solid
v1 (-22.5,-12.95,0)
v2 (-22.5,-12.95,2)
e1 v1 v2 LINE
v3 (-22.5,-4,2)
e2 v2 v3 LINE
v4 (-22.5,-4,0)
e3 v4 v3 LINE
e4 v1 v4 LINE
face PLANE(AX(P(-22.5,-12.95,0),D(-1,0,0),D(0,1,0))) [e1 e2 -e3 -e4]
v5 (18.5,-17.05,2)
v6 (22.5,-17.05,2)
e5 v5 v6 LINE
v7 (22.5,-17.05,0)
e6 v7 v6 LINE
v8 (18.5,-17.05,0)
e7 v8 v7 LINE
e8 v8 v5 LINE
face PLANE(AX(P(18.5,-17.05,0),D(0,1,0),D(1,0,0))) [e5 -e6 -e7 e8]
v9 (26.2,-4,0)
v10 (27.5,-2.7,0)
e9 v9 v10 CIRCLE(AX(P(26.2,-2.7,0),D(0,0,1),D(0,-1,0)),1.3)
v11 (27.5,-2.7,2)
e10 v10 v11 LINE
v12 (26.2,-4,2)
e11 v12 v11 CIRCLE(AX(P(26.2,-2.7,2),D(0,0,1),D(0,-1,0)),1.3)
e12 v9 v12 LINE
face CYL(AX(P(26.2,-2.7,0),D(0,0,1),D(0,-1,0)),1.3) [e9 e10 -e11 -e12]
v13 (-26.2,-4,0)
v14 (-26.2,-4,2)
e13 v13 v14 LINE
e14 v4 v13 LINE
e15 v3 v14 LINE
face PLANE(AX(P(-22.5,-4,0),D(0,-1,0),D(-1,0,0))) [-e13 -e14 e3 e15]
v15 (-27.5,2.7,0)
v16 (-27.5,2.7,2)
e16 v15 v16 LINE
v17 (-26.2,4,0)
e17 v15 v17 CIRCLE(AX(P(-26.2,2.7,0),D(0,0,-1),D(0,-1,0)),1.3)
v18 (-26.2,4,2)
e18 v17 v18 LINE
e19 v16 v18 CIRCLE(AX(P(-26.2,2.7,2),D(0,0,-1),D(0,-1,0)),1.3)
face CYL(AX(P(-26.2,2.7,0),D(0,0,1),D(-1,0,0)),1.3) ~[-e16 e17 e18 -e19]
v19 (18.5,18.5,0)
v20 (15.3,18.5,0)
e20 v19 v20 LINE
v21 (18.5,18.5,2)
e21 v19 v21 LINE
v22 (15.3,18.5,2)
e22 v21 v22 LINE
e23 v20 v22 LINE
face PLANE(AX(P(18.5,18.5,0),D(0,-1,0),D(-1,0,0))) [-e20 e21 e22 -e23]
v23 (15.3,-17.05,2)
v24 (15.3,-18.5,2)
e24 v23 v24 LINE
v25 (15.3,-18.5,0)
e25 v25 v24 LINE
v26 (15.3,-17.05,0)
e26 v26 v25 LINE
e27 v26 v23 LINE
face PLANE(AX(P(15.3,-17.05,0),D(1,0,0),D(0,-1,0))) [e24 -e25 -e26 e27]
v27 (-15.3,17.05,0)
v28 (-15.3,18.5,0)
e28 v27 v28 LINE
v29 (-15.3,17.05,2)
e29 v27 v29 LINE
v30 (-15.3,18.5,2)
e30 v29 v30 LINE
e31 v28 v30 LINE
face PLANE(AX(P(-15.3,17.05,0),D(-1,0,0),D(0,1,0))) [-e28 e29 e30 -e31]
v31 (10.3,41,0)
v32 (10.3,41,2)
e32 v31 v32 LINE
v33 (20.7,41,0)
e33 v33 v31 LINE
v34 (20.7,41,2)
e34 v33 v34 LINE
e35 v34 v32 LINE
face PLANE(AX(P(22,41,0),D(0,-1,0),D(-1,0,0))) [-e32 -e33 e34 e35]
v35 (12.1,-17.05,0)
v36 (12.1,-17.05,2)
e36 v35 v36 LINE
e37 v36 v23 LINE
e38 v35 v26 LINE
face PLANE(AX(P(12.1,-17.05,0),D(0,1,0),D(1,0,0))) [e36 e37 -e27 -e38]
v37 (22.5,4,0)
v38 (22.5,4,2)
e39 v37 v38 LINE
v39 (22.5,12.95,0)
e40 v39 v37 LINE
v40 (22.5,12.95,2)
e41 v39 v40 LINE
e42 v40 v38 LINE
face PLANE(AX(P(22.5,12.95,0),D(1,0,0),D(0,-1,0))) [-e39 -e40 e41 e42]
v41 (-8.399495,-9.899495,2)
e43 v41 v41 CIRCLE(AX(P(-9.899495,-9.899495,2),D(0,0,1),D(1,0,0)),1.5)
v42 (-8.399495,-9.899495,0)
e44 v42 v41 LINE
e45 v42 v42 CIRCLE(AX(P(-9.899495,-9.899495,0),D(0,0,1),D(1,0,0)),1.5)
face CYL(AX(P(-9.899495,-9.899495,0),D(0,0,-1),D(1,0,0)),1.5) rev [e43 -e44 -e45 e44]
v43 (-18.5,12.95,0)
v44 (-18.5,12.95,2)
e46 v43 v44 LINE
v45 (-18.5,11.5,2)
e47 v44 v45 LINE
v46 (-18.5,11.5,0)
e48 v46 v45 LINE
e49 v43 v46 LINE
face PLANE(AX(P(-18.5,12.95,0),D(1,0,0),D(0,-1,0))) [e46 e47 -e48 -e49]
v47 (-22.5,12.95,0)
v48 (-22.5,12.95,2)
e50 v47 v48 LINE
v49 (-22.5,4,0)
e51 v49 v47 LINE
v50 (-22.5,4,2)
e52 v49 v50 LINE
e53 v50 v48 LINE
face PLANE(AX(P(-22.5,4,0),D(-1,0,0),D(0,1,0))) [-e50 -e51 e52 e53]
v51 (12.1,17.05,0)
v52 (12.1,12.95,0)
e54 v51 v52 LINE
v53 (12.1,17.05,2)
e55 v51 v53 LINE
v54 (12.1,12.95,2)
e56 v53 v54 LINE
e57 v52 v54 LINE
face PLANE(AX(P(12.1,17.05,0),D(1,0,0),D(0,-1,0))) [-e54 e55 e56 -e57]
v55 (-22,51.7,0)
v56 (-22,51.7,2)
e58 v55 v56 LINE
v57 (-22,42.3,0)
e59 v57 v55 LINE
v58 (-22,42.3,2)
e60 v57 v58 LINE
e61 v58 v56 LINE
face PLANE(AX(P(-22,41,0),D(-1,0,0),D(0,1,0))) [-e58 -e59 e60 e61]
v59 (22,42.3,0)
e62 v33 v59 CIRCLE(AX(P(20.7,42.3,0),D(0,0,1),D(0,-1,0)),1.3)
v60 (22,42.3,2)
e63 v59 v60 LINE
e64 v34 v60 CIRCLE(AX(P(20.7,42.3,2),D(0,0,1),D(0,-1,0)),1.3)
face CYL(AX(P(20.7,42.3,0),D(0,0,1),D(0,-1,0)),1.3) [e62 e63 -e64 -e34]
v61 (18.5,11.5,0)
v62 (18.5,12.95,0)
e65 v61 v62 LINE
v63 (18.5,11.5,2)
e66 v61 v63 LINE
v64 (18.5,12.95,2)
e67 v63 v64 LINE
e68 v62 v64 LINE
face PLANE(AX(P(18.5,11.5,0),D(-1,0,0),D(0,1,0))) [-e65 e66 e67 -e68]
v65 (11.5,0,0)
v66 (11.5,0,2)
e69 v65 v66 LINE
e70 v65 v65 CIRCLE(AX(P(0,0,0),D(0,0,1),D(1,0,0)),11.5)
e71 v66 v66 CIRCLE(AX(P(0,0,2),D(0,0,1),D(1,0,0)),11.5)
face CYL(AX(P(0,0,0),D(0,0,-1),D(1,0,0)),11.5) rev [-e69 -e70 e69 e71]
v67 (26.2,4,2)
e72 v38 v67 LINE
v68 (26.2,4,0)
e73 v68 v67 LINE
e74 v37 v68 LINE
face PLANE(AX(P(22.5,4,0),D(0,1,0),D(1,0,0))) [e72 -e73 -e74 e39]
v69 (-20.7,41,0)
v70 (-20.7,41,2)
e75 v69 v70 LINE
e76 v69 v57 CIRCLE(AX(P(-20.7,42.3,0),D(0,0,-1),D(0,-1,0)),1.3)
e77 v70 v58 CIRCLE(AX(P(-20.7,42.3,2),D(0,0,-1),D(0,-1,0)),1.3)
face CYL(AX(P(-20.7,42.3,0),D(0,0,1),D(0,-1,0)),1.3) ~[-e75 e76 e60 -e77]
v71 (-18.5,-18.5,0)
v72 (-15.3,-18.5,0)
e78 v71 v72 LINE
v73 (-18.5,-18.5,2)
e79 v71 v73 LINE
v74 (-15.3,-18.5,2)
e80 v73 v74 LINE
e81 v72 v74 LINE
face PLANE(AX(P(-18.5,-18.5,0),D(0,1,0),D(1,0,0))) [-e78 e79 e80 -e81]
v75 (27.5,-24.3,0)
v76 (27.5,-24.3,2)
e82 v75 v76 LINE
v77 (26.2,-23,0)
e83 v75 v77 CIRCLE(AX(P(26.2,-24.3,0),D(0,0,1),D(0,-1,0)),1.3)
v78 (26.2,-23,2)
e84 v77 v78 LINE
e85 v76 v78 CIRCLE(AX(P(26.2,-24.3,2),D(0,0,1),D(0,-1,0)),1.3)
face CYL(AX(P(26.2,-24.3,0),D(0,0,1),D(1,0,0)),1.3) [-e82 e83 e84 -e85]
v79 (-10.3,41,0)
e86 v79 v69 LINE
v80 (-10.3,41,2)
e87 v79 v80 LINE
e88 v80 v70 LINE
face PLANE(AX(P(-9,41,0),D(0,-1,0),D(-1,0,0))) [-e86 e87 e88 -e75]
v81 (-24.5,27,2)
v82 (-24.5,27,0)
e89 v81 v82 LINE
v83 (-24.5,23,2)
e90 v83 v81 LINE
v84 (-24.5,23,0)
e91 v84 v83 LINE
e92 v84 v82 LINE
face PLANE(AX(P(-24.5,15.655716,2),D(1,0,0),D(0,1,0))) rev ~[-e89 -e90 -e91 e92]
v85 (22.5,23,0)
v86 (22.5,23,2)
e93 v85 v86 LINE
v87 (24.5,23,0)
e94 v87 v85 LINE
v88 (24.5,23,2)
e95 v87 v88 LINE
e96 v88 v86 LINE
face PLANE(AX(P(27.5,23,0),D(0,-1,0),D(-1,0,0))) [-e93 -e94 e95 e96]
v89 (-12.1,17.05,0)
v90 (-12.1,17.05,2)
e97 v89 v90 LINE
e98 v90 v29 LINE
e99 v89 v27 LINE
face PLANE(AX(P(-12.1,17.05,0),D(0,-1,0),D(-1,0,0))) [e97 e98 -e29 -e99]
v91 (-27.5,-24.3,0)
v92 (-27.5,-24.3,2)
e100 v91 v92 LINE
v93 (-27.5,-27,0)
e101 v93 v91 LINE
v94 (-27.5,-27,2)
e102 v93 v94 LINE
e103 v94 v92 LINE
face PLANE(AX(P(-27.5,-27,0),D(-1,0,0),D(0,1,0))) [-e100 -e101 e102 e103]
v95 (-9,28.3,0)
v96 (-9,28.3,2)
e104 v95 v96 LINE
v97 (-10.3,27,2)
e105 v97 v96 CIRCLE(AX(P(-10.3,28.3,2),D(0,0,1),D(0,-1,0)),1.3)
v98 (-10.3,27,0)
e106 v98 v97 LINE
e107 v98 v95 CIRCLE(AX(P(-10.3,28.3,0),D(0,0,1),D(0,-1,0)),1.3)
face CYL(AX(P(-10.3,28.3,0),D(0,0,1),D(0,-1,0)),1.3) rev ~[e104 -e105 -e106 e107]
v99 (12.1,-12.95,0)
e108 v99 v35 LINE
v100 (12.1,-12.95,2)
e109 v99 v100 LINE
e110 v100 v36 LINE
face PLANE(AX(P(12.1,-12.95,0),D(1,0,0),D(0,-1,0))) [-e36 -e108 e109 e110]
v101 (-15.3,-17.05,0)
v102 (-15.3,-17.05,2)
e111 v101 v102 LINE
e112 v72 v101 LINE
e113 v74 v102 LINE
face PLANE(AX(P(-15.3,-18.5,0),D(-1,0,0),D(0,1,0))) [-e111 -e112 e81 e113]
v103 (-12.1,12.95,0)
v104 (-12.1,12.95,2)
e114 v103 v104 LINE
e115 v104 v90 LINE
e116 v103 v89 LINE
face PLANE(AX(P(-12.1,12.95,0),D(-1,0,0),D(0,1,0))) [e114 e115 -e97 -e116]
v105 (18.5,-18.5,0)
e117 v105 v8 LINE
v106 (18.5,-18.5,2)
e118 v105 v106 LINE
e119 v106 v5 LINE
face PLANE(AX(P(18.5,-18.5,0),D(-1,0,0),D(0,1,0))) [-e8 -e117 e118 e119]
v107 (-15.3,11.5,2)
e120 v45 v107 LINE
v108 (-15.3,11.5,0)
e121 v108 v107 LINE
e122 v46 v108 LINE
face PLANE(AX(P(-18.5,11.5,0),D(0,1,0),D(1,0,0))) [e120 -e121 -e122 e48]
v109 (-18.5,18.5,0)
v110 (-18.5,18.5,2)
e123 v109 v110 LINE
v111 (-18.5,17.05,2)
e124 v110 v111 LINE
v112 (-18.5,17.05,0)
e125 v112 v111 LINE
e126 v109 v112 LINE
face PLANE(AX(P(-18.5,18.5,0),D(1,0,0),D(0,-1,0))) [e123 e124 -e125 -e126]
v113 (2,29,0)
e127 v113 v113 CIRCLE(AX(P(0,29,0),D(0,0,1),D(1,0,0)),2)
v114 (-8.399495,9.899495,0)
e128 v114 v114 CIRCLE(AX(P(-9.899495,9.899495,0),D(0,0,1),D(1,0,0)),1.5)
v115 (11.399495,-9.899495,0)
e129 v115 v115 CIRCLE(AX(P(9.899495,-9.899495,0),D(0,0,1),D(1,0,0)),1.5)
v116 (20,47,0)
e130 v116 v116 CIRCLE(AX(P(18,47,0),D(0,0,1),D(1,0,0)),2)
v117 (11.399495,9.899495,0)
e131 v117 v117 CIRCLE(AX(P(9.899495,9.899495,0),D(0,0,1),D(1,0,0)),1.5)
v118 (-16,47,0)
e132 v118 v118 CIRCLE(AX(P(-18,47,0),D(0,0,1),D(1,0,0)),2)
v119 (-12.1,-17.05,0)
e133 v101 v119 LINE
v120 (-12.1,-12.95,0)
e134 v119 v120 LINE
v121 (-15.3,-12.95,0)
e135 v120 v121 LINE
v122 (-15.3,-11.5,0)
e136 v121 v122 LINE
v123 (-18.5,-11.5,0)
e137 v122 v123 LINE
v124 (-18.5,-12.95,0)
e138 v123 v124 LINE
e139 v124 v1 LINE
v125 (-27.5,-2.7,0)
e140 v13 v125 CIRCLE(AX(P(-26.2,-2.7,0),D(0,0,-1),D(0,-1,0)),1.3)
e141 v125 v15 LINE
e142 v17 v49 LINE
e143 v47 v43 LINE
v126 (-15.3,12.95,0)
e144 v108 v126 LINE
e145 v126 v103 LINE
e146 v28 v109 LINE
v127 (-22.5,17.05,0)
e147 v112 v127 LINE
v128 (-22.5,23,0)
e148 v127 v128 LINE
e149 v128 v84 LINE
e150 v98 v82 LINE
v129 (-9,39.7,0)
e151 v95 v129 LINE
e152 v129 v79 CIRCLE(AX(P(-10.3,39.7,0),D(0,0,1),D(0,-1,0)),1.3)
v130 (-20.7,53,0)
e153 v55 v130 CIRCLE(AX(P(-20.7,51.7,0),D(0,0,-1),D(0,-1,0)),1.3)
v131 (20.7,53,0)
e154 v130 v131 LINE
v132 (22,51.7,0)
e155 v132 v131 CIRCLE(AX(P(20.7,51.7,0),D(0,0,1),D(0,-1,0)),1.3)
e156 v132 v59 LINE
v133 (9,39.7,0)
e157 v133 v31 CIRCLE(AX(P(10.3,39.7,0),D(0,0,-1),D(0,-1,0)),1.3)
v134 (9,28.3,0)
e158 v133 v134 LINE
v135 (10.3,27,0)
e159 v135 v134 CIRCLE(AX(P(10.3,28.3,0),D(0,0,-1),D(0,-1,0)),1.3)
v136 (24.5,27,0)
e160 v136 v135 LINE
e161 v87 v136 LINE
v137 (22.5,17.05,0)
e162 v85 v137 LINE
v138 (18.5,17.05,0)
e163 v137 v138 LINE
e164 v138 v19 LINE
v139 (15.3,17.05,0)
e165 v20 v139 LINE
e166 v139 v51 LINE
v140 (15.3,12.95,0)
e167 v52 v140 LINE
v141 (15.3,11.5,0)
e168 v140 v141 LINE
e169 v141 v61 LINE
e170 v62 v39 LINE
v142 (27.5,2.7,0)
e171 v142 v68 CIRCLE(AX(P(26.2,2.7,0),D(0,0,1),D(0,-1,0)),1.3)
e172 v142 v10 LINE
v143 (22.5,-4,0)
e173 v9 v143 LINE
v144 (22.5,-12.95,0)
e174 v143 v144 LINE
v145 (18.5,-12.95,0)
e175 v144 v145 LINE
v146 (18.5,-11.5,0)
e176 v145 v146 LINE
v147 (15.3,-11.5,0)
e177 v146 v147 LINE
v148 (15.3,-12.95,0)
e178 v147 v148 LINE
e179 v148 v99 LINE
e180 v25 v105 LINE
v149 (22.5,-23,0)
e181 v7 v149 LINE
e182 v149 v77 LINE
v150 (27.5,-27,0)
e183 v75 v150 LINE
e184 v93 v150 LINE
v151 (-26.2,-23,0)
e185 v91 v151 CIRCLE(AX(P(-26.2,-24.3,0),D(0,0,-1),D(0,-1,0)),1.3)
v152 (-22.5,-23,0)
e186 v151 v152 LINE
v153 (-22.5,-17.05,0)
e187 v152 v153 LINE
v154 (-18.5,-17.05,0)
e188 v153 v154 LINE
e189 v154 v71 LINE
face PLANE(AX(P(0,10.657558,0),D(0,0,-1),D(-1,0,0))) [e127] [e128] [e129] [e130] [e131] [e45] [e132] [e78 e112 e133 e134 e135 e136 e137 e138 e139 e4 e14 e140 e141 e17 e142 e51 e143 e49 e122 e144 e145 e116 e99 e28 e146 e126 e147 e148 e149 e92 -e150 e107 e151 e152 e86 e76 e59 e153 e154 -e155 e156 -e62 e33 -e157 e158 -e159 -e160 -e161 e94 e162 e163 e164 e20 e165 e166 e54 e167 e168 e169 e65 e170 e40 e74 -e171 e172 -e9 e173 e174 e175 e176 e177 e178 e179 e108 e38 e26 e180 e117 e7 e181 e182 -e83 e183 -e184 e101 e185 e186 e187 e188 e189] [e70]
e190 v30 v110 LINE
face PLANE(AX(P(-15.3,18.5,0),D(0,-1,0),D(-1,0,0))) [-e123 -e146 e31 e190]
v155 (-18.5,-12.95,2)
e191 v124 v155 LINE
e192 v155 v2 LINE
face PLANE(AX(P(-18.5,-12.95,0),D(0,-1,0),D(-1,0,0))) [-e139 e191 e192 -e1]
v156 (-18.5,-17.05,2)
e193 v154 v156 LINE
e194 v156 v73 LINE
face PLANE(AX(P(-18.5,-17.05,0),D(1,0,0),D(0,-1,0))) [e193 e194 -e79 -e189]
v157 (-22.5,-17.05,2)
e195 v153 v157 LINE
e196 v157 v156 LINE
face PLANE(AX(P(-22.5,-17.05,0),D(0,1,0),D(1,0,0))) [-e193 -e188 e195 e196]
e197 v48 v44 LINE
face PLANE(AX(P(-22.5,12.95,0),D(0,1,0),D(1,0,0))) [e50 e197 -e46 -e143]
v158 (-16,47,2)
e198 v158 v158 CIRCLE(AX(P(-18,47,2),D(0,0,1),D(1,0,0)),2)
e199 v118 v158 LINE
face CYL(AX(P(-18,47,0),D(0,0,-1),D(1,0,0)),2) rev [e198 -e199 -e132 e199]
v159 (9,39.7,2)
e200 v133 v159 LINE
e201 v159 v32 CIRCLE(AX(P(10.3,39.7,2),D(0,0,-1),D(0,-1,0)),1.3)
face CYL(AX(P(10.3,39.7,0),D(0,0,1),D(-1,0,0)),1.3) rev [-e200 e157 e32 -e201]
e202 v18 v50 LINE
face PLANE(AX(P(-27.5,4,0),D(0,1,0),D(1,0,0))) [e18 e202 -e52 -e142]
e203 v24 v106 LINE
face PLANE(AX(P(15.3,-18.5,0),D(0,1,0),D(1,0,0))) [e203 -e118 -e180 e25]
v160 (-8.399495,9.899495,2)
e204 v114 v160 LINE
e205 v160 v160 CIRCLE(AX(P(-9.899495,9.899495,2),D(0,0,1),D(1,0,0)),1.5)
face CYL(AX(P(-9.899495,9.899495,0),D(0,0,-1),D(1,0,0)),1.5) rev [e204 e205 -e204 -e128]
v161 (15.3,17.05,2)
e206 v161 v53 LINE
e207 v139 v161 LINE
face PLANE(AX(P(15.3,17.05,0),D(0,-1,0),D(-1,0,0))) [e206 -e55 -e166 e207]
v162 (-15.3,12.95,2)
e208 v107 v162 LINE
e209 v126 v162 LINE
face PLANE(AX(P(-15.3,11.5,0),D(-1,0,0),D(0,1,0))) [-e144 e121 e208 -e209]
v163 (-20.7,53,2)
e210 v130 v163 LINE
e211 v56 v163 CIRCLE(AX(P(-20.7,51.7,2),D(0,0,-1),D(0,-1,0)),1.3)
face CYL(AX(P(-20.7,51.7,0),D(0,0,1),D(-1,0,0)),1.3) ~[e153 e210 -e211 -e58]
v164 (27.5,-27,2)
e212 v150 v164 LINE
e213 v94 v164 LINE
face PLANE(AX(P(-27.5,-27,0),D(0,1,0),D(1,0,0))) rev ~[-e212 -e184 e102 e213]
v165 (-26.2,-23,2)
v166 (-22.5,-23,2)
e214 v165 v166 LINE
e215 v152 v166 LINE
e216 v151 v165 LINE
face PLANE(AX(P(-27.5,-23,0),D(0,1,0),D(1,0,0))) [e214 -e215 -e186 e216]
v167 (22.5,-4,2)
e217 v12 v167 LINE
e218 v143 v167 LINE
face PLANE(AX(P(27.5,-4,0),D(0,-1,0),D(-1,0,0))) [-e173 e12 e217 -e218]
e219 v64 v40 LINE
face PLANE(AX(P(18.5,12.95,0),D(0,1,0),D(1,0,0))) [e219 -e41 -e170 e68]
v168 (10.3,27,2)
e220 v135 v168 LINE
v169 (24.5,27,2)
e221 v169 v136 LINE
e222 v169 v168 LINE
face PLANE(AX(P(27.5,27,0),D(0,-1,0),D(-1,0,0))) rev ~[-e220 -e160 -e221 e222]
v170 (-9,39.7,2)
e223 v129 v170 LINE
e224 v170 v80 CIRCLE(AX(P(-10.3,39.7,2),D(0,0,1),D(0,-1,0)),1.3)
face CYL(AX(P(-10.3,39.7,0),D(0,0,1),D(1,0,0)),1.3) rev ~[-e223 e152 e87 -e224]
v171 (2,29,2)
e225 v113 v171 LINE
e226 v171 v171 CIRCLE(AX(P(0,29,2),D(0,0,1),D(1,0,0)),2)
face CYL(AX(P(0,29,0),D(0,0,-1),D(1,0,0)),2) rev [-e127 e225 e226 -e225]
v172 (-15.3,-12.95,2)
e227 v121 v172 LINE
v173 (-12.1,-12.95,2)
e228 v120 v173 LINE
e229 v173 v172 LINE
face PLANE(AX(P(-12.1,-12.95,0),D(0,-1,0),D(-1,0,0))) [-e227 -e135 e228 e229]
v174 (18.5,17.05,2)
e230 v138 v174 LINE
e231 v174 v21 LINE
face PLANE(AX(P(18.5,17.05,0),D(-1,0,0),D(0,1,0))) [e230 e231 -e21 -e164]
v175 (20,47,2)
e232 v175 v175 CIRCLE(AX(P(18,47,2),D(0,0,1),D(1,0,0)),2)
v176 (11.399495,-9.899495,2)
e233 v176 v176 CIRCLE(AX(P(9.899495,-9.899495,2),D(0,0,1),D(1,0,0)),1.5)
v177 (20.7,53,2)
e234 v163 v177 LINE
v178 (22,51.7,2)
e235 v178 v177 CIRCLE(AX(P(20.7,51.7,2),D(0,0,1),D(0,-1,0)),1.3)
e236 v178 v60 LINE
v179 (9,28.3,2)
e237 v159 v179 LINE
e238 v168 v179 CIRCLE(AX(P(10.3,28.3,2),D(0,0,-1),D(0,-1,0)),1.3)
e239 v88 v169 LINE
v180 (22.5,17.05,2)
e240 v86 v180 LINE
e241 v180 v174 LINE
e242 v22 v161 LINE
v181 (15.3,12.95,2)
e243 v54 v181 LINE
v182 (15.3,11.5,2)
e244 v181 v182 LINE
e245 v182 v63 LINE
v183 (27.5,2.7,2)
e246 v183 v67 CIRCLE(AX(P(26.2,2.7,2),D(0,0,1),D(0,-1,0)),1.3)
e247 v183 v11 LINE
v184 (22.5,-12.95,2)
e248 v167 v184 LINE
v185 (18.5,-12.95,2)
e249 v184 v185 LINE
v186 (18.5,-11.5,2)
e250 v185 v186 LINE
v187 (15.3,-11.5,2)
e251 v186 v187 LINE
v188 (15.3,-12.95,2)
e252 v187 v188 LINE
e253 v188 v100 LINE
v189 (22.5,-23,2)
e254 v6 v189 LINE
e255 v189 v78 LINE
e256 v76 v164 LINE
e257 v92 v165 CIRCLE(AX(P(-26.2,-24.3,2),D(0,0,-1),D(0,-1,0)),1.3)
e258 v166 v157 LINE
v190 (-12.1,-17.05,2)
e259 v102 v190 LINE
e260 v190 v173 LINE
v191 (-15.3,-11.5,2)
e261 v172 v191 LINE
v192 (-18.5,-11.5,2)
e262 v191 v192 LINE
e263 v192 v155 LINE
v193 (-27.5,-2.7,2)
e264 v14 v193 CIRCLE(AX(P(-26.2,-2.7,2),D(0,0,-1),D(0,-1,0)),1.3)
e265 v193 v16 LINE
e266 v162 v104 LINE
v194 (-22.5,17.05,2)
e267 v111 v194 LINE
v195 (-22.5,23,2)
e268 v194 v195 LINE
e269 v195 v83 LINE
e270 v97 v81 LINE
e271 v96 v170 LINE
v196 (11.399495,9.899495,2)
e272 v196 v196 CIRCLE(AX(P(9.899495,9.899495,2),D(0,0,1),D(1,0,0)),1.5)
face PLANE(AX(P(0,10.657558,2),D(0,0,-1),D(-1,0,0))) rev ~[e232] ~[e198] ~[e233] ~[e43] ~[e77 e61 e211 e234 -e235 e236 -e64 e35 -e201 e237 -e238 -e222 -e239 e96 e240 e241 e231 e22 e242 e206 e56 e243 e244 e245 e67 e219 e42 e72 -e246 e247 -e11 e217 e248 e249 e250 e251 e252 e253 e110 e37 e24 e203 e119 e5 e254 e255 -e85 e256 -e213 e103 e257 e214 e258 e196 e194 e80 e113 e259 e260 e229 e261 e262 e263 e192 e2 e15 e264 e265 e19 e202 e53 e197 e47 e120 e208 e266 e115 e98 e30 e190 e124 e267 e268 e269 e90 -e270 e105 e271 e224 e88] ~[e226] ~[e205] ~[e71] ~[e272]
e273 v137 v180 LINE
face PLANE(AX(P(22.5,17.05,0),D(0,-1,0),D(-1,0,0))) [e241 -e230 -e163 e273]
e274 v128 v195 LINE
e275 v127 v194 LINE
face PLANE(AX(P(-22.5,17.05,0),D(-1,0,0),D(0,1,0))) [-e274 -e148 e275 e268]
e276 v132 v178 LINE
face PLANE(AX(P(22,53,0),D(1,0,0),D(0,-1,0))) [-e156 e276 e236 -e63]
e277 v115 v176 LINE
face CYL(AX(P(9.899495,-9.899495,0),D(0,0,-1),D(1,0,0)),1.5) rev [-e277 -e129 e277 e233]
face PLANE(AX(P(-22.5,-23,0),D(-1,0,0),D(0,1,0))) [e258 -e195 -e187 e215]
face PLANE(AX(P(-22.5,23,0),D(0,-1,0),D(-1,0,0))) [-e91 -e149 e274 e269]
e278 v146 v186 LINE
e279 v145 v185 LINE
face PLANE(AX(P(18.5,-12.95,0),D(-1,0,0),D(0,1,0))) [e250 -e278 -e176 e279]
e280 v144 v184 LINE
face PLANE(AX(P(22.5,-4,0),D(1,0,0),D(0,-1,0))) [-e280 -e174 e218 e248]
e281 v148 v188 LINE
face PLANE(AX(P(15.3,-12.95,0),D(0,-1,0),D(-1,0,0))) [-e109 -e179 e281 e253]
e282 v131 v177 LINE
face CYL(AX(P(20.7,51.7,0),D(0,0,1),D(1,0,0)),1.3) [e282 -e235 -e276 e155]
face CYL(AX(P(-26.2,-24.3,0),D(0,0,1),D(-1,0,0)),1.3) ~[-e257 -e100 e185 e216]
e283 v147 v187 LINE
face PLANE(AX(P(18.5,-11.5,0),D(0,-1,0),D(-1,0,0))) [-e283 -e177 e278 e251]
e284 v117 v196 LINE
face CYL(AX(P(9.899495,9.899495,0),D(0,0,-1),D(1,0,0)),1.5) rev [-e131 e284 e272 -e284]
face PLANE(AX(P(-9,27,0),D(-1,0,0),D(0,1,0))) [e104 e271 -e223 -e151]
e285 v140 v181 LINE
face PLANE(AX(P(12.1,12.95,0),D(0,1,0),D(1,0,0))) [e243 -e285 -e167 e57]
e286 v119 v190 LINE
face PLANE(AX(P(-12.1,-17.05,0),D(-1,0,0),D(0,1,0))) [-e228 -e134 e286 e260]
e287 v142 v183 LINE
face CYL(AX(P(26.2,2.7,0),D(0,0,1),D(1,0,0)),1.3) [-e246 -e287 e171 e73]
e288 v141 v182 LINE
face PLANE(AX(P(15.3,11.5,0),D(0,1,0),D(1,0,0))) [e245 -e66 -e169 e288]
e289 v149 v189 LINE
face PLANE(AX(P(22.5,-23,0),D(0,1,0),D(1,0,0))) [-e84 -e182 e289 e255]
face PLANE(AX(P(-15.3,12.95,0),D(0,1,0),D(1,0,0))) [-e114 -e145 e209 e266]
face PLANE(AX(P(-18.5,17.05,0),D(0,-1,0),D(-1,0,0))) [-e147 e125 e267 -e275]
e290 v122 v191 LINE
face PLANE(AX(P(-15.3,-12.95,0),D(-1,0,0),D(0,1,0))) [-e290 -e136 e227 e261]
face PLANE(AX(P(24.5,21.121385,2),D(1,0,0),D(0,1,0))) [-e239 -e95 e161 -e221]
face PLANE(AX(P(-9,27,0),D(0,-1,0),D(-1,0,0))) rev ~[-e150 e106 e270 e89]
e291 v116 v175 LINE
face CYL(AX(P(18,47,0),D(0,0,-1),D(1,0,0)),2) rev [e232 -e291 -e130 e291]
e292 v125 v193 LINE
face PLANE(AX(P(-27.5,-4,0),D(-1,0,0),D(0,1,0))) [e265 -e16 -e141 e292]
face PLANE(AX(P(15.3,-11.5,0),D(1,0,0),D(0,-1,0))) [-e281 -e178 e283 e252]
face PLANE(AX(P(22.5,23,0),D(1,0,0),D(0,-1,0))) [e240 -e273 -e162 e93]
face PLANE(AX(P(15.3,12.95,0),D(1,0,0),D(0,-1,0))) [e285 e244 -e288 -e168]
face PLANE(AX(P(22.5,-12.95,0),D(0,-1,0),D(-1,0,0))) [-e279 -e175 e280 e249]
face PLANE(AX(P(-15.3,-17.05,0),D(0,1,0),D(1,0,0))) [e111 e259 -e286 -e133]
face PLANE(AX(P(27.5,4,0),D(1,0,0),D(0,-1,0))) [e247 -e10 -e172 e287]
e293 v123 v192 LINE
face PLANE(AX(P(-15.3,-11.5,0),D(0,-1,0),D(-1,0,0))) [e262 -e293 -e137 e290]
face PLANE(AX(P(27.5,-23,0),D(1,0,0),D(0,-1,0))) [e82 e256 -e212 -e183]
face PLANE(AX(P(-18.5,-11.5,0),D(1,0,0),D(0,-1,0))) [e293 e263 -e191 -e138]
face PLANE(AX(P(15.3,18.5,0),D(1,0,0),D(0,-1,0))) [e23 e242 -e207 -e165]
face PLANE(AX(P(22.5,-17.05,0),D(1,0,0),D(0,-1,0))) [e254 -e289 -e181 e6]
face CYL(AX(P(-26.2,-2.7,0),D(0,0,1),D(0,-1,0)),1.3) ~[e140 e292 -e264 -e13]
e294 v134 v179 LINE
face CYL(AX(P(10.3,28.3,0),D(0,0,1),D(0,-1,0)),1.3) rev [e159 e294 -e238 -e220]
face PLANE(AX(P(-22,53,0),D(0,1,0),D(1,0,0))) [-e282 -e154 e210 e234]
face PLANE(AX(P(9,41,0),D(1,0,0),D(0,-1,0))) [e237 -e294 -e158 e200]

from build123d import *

# Parameters (mm, degrees)
SKETCH_1_R          = 1.5
SKETCH_1_R_2        = 11.5
SKETCH_1_R_3        = 2
EXTRUDE_1_DEPTH     = 2
FILLET_1_R          = 1.3
SKETCH_4_W          = 3
SKETCH_4_H          = 5.878615105
SKETCH_4_H_2        = 11.344283934
CUT_EXTRUDE_1_DEPTH = 2


with BuildPart() as part:
    # 草图1 → 凸台-拉伸1 (new body)
    with BuildSketch(Plane.XY):
        Polygon((22.5, -27), (-22.5, -27), (-27.5, -27), (-27.5, -23), (-22.5, -23), (-22.5, -17.05), (-18.5, -17.05), (-18.5, -18.5), (-15.3, -18.5), (-15.3, -17.05), (-12.1, -17.05), (-12.1, -12.95), (-15.3, -12.95), (-15.3, -11.5), (-18.5, -11.5), (-18.5, -12.95), (-22.5, -12.95), (-22.5, -4), (-27.5, -4), (-27.5, 4), (-22.5, 4), (-22.5, 12.95), (-18.5, 12.95), (-18.5, 11.5), (-15.3, 11.5), (-15.3, 12.95), (-12.1, 12.95), (-12.1, 17.05), (-15.3, 17.05), (-15.3, 18.5), (-18.5, 18.5), (-18.5, 17.05), (-22.5, 17.05), (-22.5, 23), (-27.5, 23), (-27.5, 27), (-22.5, 27), (-9, 27), (-9, 41), (-22, 41), (-22, 53), (22, 53), (22, 41), (9, 41), (9, 27), (22.5, 27), (27.5, 27), (27.5, 23), (22.5, 23), (22.5, 17.05), (18.5, 17.05), (18.5, 18.5), (15.3, 18.5), (15.3, 17.05), (12.1, 17.05), (12.1, 12.95), (15.3, 12.95), (15.3, 11.5), (18.5, 11.5), (18.5, 12.95), (22.5, 12.95), (22.5, 4), (27.5, 4), (27.5, -4), (22.5, -4), (22.5, -12.95), (18.5, -12.95), (18.5, -11.5), (15.3, -11.5), (15.3, -12.95), (12.1, -12.95), (12.1, -17.05), (15.3, -17.05), (15.3, -18.5), (18.5, -18.5), (18.5, -17.05), (22.5, -17.05), (22.5, -23), (27.5, -23), (27.5, -27), align=None)
        with Locations((9.899494937, 9.899494937)):
            Circle(SKETCH_1_R, mode=Mode.SUBTRACT)
        Circle(SKETCH_1_R_2, mode=Mode.SUBTRACT)
        with Locations((9.899494937, -9.899494937)):
            Circle(SKETCH_1_R, mode=Mode.SUBTRACT)
        with Locations((-9.899494937, -9.899494937)):
            Circle(SKETCH_1_R, mode=Mode.SUBTRACT)
        with Locations((-9.899494937, 9.899494937)):
            Circle(SKETCH_1_R, mode=Mode.SUBTRACT)
        with Locations((-18, 47)):
            Circle(SKETCH_1_R_3, mode=Mode.SUBTRACT)
        with Locations((18, 47)):
            Circle(SKETCH_1_R_3, mode=Mode.SUBTRACT)
        with Locations((0, 29)):
            Circle(SKETCH_1_R_3, mode=Mode.SUBTRACT)
    extrude(amount=EXTRUDE_1_DEPTH)

    # 圆角1
    fillet_1_edges = [part.edges().sort_by_distance(p)[0] for p in [
        (-9, 27, 1),
        (-9, 41, 1),
        (-22, 41, 1),
        (-22, 53, 1),
        (22, 53, 1),
        (22, 41, 1),
        (9, 41, 1),
        (9, 27, 1),
        (27.5, 23, 1),
        (27.5, 4, 1),
        (27.5, -4, 1),
        (27.5, -23, 1),
        (-27.5, -23, 1),
        (-27.5, -4, 1),
        (-27.5, 4, 1),
        (-27.5, 23, 1),
    ]]
    fillet(fillet_1_edges, radius=FILLET_1_R)

    # 草图4 → 切除-拉伸1 (cut)
    with BuildSketch(Plane.XY.offset(2)):
        with Locations((26, 24.060692448)):
            Rectangle(SKETCH_4_W, SKETCH_4_H)
        with Locations((-26, 21.327858033)):
            Rectangle(SKETCH_4_W, SKETCH_4_H_2)
    extrude(amount=-CUT_EXTRUDE_1_DEPTH, mode=Mode.SUBTRACT)


solid = part.part
